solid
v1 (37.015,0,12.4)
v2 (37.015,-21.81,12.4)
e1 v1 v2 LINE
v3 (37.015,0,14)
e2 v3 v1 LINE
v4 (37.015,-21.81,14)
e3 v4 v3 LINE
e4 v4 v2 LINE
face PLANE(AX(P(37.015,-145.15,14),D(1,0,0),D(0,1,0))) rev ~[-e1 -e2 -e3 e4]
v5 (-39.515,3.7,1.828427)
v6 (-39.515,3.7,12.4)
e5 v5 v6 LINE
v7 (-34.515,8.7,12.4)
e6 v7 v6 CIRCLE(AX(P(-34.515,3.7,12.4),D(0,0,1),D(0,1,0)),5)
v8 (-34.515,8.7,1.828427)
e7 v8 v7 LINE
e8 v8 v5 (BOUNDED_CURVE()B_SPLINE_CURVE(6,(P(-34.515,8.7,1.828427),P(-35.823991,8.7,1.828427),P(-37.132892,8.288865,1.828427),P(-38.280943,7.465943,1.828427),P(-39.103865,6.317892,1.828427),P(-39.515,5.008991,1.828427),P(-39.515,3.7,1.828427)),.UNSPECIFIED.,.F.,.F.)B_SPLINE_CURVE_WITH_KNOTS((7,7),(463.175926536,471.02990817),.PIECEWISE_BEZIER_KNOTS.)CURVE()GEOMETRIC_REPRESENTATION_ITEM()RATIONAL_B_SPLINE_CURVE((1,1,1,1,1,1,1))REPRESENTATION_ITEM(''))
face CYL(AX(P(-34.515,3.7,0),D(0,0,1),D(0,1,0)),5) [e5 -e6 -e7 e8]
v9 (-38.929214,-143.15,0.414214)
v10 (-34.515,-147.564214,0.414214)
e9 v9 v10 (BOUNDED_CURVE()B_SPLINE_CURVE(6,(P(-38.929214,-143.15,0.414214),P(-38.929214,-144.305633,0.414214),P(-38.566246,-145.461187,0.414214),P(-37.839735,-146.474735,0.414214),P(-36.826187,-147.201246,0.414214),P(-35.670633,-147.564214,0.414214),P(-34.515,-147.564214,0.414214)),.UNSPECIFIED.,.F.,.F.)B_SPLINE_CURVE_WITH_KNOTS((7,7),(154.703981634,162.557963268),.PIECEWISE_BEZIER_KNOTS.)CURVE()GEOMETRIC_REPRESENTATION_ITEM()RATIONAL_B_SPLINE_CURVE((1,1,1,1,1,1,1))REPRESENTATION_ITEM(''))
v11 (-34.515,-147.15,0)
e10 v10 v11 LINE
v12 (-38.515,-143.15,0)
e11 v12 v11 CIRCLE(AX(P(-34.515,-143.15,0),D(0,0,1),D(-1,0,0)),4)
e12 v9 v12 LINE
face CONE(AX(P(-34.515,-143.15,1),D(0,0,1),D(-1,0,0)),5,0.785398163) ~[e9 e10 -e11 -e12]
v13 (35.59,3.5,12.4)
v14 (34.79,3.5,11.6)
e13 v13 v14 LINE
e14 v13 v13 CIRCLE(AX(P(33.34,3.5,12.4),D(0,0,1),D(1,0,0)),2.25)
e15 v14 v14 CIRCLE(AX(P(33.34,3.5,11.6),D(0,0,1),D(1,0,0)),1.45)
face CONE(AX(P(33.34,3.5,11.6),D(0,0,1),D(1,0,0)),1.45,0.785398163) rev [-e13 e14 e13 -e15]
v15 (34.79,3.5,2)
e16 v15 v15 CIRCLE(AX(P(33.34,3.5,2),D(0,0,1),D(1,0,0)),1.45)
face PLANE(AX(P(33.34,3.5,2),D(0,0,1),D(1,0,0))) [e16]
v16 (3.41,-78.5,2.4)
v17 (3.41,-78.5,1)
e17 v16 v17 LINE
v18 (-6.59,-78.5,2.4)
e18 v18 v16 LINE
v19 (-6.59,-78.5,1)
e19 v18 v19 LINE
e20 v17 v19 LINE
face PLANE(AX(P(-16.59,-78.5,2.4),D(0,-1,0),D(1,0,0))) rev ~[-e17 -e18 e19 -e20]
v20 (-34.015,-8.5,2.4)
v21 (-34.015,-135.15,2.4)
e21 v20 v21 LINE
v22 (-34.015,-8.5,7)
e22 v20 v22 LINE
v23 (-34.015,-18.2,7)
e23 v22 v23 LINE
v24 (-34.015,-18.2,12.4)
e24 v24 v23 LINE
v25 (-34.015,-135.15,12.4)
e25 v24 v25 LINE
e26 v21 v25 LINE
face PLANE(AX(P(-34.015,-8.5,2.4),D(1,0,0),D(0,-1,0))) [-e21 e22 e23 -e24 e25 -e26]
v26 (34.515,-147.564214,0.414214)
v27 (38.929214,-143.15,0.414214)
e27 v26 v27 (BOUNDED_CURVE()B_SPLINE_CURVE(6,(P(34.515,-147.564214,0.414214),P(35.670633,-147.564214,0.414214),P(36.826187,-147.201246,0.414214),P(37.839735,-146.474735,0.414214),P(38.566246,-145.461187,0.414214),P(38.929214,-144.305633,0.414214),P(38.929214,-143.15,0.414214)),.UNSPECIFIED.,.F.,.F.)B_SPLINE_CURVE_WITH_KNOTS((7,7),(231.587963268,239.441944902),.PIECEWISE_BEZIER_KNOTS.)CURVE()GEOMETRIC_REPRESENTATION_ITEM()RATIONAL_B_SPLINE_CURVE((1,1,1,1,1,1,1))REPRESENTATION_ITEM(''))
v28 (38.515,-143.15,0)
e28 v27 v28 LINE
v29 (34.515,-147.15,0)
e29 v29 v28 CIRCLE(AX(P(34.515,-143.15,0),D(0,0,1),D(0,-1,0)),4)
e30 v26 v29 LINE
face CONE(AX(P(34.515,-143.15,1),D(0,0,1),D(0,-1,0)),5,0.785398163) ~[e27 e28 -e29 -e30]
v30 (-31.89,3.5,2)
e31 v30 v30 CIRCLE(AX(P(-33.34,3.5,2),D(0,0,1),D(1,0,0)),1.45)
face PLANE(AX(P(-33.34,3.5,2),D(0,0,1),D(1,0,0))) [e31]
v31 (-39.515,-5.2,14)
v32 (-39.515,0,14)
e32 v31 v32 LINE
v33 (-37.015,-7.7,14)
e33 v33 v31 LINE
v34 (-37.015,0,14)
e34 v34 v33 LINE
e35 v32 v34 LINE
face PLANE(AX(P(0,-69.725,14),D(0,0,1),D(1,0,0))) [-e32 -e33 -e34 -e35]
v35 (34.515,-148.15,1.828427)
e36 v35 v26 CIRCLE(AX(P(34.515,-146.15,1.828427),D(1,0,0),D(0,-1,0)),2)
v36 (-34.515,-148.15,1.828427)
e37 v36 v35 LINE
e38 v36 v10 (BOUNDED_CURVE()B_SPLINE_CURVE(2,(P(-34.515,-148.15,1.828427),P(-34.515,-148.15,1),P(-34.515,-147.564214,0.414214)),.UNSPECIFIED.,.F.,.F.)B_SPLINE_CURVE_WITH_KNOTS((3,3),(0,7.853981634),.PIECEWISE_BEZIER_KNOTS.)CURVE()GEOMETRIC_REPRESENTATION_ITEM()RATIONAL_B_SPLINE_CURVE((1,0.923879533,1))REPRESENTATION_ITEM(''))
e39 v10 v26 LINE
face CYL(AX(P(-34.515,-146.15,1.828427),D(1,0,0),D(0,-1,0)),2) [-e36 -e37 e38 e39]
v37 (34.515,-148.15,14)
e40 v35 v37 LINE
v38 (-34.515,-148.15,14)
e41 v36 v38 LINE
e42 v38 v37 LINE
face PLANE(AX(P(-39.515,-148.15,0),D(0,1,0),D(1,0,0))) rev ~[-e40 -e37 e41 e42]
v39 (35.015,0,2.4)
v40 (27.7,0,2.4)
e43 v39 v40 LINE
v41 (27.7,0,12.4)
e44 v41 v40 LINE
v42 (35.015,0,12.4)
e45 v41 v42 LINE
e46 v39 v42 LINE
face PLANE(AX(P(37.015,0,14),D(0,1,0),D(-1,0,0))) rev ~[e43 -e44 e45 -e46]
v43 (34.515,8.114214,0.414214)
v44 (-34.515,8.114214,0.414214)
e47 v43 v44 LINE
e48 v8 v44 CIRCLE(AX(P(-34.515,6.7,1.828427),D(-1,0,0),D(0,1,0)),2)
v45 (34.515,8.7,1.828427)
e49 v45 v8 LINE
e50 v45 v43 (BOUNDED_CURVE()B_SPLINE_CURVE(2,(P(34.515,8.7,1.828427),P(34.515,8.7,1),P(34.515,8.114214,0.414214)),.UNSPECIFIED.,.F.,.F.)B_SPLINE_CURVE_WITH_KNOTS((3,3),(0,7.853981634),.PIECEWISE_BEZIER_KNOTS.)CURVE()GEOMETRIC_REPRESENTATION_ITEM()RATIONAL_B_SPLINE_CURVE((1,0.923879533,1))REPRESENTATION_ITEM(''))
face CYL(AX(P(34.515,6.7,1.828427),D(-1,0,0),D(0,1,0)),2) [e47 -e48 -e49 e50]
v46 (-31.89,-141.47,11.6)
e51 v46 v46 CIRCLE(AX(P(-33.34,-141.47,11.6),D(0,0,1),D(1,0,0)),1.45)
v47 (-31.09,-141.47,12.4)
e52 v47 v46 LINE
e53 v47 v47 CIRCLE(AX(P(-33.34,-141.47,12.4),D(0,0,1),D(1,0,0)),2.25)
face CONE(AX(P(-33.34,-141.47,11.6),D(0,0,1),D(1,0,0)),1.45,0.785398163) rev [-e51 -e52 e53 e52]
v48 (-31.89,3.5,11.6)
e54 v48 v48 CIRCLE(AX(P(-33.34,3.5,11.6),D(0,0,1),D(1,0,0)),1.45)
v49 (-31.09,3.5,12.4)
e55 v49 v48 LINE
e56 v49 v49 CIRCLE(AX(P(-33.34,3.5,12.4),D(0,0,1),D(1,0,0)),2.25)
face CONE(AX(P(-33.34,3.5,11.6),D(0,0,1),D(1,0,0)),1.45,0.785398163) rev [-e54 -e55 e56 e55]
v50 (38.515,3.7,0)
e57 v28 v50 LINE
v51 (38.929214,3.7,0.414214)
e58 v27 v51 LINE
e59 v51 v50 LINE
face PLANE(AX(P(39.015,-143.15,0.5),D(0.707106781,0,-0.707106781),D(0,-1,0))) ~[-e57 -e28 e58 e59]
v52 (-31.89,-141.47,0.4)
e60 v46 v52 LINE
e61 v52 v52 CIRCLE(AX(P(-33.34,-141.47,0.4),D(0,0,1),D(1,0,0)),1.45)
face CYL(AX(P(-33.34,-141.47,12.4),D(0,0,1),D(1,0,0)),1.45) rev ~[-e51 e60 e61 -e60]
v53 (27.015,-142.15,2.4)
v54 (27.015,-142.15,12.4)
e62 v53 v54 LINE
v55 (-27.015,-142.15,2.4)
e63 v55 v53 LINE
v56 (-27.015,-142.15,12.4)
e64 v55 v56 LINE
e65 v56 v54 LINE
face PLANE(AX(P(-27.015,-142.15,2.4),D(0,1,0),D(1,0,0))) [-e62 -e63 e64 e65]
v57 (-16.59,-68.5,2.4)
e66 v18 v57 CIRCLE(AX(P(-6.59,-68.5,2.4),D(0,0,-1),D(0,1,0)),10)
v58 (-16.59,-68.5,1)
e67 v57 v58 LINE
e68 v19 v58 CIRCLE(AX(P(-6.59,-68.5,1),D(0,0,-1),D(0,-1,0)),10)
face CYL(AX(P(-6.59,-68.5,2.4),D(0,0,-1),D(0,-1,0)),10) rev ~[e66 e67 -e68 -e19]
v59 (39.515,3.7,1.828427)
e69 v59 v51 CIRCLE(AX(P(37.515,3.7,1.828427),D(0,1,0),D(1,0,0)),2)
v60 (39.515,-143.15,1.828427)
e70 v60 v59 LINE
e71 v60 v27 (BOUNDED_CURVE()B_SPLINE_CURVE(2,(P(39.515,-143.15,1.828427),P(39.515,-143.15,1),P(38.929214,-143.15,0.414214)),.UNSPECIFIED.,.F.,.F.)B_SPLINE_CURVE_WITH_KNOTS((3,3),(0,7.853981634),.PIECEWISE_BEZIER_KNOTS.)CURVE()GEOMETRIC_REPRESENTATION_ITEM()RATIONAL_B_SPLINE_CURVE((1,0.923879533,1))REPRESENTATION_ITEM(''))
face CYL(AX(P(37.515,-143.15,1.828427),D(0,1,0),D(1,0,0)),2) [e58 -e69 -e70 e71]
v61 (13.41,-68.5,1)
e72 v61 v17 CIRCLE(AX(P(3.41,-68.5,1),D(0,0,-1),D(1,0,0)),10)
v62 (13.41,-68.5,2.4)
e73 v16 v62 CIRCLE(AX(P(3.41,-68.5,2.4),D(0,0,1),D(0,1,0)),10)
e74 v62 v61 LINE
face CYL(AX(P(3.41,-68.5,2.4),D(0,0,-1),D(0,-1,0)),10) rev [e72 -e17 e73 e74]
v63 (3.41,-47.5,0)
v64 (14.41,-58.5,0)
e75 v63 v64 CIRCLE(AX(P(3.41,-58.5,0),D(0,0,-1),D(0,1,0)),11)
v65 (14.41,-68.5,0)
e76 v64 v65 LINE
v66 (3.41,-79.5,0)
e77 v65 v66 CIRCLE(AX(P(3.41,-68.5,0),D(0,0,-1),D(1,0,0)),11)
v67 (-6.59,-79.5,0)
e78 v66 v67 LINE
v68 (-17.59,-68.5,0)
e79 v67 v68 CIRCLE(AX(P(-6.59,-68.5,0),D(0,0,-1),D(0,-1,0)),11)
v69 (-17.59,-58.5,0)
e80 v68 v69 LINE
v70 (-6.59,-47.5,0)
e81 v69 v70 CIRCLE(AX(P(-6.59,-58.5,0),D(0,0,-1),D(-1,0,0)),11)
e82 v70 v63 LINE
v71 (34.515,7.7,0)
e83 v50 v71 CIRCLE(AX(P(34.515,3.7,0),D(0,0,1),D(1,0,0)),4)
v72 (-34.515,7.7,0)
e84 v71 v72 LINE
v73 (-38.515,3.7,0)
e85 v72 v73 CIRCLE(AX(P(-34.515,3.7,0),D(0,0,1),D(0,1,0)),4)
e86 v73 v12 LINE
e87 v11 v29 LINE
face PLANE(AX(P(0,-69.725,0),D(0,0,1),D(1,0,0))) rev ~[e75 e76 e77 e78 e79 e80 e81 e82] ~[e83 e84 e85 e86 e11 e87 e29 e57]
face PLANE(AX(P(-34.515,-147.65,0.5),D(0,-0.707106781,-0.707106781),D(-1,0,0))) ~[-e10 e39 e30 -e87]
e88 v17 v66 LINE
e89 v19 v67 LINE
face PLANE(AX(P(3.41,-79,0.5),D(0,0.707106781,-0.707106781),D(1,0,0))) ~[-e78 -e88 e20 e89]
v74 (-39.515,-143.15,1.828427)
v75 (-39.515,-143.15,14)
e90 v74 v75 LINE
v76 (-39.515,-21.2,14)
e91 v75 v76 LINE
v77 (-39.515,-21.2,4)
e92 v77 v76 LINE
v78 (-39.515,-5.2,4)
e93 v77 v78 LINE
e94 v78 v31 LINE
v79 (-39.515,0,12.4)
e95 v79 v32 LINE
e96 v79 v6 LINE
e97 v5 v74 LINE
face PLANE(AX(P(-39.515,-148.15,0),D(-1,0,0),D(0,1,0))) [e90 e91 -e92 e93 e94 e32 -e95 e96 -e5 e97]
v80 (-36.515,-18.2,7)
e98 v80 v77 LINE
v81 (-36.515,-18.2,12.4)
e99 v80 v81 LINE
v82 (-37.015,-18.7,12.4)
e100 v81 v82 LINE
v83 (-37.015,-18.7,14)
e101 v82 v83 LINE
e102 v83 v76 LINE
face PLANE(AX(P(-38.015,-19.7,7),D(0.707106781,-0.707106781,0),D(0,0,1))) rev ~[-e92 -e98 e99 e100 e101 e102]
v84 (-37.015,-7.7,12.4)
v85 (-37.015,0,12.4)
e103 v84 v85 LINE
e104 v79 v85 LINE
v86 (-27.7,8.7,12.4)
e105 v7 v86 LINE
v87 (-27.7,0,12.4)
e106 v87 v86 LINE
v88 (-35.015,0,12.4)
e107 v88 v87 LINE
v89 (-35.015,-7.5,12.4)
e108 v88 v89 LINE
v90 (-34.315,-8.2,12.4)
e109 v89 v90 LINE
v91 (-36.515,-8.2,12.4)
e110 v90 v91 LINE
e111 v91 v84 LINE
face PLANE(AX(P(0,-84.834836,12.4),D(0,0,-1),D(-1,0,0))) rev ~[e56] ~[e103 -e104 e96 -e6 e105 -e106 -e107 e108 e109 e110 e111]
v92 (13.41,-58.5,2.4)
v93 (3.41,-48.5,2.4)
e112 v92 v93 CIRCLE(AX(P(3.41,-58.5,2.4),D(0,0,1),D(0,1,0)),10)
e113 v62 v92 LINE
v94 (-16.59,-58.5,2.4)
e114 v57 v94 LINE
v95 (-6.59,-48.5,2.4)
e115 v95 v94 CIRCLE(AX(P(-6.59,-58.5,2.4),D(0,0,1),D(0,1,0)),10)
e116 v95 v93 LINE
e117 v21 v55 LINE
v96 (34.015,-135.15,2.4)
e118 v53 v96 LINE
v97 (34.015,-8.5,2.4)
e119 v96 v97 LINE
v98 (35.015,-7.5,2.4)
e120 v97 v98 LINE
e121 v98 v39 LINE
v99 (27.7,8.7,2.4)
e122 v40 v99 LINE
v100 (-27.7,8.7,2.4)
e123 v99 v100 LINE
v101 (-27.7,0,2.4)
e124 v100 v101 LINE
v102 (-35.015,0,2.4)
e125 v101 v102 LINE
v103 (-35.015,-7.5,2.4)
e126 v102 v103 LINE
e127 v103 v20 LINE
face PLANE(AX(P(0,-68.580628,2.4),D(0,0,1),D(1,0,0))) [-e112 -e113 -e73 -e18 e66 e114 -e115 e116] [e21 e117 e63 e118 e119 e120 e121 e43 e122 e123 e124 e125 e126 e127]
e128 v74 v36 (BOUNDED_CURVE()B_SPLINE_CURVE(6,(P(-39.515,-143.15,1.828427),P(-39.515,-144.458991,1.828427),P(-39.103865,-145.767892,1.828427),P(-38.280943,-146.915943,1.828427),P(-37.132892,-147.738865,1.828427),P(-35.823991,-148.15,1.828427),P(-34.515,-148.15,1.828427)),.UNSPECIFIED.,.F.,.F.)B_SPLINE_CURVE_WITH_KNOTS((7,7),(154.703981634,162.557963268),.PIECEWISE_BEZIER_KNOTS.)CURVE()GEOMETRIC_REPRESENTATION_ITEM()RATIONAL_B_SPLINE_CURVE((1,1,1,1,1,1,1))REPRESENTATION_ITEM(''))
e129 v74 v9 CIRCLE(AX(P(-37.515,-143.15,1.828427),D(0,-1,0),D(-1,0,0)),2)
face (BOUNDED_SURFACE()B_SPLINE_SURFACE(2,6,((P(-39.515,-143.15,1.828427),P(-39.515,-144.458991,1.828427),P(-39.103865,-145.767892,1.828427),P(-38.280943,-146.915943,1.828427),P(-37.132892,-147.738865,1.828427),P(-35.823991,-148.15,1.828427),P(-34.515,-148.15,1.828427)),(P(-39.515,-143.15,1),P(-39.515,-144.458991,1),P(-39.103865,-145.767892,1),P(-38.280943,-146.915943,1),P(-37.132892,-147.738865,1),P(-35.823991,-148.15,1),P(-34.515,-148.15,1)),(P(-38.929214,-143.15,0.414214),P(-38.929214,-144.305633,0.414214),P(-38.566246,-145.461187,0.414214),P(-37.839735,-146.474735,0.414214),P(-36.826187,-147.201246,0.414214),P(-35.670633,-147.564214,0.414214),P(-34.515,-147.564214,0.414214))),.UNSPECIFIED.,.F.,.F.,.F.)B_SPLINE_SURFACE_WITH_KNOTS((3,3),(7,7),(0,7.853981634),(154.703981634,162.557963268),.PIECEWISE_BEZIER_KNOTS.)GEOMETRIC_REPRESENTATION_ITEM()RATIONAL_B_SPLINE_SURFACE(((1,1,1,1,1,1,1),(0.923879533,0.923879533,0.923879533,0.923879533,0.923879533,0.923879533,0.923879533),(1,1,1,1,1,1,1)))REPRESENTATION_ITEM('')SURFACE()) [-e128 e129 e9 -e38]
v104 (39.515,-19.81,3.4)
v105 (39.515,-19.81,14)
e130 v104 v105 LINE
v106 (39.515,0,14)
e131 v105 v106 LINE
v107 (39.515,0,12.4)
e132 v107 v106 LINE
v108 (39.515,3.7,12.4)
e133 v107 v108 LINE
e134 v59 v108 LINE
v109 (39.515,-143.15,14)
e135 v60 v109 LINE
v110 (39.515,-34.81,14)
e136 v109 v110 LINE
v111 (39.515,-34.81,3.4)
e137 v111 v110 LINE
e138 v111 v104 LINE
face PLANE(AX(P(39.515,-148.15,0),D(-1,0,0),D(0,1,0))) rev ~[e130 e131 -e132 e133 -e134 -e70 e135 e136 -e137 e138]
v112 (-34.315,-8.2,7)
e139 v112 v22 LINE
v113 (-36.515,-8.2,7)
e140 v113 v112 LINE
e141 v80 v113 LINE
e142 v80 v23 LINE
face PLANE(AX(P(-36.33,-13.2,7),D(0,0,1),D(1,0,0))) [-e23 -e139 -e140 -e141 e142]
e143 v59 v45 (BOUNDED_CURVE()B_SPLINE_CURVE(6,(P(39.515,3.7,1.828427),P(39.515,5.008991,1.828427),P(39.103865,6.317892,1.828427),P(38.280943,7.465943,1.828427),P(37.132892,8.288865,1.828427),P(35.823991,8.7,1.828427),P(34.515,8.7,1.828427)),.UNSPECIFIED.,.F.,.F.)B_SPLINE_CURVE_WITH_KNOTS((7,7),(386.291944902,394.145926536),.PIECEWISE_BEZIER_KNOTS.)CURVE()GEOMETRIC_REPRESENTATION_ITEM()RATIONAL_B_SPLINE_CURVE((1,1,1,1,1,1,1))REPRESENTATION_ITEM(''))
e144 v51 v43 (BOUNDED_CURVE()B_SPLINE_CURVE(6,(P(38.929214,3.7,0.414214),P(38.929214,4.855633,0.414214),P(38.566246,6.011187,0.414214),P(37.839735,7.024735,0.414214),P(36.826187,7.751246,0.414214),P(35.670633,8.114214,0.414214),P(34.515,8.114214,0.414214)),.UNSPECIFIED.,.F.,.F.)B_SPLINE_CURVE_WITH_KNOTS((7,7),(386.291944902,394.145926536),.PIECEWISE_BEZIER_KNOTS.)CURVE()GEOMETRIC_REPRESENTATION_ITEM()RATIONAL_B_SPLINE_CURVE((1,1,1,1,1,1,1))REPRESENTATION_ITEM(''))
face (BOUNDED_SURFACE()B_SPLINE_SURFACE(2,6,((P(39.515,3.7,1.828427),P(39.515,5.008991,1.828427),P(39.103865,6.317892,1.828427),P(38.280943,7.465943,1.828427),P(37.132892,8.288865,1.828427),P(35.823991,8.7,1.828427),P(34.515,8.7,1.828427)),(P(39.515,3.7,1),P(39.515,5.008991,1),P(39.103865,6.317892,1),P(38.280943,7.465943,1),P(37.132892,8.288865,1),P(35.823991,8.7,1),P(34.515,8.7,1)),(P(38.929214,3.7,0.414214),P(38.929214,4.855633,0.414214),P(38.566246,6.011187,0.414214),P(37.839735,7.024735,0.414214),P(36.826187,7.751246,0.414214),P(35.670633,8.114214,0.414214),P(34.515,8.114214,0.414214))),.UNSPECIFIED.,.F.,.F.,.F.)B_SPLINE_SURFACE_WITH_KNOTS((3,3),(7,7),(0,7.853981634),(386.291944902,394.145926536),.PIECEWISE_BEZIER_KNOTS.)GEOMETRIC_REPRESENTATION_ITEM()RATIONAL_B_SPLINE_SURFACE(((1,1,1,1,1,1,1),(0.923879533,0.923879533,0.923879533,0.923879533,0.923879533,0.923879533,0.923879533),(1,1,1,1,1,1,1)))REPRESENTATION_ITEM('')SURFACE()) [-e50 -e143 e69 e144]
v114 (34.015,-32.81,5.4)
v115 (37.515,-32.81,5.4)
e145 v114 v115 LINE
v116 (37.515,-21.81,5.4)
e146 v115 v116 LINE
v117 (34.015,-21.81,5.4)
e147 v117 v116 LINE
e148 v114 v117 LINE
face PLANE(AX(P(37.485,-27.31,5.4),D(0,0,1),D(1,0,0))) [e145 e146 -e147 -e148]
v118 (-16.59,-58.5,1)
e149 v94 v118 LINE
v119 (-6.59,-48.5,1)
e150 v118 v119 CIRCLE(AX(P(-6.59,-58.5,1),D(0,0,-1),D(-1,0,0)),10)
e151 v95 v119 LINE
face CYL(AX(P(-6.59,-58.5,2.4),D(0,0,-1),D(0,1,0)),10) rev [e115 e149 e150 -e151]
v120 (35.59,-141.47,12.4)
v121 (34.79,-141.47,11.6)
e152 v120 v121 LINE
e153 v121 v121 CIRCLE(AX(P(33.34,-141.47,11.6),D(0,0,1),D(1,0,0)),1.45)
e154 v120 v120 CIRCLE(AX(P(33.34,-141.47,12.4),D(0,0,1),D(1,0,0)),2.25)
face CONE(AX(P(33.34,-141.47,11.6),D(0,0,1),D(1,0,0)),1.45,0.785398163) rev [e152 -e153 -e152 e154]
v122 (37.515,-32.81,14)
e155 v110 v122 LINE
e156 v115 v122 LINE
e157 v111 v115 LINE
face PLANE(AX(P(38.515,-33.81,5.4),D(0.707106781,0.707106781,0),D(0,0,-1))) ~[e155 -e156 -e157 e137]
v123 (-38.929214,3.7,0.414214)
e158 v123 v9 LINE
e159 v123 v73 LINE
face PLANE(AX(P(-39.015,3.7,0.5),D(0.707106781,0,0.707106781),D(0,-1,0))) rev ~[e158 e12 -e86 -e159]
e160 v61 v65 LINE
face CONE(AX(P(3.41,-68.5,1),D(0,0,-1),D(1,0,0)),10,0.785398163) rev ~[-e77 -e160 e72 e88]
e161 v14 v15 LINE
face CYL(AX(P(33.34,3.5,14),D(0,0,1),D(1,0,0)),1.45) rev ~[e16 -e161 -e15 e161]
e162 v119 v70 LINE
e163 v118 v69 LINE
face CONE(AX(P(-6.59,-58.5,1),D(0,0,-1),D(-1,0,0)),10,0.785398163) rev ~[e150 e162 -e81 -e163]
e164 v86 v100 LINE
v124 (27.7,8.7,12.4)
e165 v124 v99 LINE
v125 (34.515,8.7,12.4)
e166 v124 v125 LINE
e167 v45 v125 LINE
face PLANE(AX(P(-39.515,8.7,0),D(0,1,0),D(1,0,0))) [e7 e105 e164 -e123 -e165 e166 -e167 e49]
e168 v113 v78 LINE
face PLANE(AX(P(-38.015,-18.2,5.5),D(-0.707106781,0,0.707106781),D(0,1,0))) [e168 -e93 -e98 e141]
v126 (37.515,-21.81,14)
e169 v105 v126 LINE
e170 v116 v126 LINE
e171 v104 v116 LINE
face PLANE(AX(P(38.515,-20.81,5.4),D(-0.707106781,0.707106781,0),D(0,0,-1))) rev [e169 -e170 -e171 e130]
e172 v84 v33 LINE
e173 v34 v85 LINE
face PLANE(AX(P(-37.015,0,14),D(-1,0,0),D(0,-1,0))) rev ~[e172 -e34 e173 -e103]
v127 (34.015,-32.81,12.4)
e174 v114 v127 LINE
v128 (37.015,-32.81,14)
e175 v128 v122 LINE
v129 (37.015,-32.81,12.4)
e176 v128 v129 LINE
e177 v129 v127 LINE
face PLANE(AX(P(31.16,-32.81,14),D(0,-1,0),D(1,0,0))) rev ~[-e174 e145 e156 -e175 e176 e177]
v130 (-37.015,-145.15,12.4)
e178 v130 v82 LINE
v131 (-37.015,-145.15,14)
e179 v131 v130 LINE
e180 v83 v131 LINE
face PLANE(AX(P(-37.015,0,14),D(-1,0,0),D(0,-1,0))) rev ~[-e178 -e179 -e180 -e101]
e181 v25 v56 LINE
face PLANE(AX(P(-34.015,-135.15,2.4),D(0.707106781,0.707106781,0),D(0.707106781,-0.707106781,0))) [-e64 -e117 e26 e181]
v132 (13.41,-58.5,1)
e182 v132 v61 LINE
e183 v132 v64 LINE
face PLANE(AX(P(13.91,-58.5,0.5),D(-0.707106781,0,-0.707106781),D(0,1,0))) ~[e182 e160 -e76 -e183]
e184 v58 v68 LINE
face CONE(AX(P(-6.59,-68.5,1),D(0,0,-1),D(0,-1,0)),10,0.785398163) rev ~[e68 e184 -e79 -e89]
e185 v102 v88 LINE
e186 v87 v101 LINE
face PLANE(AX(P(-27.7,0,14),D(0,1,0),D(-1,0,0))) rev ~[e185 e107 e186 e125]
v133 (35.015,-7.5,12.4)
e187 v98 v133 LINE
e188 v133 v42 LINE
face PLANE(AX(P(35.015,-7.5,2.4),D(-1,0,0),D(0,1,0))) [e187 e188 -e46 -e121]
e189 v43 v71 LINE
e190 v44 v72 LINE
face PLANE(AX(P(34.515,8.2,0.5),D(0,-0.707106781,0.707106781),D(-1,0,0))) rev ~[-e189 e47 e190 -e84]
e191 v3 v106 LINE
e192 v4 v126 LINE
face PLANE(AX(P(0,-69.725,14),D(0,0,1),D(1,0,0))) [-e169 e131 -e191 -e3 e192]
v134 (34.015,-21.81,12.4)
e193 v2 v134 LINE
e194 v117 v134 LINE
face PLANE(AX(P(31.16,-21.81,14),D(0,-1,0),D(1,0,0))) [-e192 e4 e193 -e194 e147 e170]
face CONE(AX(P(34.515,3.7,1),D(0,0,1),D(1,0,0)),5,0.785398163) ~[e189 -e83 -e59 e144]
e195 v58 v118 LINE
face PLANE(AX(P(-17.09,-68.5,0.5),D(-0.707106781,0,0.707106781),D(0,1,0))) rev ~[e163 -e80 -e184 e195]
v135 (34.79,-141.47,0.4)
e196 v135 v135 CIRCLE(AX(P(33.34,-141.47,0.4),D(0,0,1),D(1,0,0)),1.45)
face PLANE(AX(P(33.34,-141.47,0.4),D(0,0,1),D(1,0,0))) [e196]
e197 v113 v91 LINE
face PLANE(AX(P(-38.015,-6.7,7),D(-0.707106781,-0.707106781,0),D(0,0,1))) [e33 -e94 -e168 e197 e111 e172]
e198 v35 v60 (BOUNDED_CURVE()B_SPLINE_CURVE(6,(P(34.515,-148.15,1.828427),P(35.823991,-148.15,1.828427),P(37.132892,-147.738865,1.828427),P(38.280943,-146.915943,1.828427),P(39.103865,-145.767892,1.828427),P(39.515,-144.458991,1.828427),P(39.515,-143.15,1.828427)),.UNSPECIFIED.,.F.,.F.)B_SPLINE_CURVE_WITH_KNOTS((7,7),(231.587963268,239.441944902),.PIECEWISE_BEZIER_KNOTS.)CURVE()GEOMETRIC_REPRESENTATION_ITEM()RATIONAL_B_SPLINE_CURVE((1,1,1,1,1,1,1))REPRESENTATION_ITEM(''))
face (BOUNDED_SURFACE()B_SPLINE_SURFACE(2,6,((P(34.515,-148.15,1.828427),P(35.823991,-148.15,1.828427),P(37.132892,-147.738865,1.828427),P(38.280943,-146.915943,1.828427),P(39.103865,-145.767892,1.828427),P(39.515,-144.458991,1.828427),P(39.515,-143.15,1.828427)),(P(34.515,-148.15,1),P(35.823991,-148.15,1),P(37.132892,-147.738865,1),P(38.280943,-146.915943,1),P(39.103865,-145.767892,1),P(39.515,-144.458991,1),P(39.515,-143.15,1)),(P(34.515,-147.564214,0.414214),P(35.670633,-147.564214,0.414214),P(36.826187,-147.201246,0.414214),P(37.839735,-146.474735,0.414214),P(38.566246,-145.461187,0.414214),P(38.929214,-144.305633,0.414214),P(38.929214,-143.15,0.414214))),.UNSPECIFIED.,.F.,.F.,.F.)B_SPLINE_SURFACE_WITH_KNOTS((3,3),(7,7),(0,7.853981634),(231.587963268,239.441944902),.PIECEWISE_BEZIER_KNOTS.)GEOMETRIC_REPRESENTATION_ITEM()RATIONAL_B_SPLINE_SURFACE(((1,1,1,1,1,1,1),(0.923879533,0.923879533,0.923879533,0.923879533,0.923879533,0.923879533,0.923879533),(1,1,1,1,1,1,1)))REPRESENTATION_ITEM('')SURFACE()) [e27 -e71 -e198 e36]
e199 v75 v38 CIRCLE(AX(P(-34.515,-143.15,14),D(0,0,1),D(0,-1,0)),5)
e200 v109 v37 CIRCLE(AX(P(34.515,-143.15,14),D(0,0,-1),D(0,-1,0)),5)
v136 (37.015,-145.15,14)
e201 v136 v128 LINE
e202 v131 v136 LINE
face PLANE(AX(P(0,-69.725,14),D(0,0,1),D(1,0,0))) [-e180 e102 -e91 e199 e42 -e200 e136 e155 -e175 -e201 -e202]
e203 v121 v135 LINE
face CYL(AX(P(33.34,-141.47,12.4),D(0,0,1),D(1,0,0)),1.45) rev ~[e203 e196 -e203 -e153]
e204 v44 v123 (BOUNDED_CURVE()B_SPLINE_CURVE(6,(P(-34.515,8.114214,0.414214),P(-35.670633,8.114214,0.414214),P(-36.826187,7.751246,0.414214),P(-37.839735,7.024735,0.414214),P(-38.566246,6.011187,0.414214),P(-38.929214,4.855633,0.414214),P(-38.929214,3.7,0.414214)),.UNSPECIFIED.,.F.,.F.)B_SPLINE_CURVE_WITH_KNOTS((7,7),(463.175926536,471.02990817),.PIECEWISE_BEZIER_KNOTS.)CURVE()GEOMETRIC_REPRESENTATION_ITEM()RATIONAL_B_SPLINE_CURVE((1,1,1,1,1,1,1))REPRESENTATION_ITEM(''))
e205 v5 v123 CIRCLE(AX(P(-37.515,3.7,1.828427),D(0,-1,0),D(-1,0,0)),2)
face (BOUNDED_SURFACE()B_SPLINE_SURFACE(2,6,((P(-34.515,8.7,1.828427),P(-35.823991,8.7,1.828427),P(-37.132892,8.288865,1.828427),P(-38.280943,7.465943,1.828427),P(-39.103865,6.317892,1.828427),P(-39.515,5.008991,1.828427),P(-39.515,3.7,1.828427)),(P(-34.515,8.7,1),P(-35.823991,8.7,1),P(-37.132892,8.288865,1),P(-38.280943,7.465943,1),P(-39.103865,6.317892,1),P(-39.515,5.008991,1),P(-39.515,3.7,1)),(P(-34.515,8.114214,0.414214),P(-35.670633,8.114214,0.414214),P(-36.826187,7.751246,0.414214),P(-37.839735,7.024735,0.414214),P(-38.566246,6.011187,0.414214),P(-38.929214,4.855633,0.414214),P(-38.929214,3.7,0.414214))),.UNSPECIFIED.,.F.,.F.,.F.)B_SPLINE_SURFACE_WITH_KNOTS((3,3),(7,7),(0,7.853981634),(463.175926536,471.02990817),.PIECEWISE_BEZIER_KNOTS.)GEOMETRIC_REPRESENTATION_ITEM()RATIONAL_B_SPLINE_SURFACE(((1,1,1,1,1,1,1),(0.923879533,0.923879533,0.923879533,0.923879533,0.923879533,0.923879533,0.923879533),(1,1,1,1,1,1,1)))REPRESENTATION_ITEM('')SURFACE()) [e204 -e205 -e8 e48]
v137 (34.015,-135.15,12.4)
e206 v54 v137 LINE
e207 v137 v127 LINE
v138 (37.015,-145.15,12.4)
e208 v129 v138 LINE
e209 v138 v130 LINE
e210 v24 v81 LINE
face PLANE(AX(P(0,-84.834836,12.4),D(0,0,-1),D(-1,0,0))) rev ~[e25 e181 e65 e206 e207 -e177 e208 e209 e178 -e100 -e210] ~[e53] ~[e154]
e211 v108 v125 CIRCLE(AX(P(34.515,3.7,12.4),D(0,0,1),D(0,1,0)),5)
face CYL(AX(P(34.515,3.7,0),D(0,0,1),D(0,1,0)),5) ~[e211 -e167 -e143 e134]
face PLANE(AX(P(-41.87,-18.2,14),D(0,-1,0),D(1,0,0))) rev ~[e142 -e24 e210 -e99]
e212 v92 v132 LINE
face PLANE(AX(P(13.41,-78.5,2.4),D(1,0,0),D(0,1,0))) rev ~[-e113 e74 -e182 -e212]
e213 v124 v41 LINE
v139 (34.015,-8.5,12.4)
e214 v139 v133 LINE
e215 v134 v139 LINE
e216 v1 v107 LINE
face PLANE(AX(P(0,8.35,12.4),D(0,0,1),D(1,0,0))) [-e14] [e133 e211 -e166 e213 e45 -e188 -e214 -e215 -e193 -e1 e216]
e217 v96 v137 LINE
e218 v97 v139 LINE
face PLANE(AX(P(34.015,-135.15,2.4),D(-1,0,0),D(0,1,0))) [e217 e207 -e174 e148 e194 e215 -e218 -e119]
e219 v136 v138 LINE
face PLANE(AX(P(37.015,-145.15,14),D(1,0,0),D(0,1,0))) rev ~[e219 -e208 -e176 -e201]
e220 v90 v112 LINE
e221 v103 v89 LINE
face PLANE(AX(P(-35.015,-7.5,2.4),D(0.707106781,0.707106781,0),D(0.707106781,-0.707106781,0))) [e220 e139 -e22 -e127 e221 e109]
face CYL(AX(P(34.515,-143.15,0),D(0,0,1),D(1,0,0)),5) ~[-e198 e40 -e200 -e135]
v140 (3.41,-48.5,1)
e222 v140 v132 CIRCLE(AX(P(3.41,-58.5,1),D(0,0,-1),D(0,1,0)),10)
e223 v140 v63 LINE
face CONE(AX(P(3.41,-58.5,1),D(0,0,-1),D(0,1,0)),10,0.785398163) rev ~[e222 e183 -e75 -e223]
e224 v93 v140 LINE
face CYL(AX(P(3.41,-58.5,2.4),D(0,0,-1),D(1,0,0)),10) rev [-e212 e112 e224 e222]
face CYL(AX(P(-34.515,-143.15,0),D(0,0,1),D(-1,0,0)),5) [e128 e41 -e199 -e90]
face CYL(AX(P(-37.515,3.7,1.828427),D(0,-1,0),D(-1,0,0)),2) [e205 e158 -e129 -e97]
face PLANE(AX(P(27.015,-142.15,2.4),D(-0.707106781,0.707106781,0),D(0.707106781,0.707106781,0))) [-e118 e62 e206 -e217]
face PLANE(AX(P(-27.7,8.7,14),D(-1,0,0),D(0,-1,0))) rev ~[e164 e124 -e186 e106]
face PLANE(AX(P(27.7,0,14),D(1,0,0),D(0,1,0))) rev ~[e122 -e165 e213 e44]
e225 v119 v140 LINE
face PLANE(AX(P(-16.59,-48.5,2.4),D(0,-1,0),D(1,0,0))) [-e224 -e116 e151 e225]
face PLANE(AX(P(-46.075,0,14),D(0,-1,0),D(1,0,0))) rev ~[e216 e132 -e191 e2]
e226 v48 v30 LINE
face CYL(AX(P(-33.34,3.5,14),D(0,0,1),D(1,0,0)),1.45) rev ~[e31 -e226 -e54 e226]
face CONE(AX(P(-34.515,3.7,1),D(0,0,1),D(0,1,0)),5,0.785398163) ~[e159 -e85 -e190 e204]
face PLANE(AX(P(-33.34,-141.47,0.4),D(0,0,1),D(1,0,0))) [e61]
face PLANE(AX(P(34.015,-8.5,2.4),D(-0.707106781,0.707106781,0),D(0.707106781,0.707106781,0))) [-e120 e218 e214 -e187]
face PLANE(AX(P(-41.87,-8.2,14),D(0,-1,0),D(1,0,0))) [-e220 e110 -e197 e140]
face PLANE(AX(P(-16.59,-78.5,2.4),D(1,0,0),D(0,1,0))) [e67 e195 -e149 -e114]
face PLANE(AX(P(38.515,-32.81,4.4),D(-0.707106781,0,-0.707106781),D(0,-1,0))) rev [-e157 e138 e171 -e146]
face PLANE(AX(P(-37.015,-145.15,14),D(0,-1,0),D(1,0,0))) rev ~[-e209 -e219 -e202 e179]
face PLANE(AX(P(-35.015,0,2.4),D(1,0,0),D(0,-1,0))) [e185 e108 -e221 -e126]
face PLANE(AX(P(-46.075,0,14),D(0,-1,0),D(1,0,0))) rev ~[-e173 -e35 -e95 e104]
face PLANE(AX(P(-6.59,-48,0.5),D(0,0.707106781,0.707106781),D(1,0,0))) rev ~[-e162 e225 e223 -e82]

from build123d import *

# Parameters (mm, degrees)
SKETCH_W        = 79.03
SKETCH_H        = 156.85
PAD_DEPTH       = 14
POCKET_DEPTH    = 11.6
PAD001_DEPTH    = 10
SKETCH003_R     = 1.45
POCKET001_DEPTH = 12
FILLET_R        = 5
CHAMFER_SIZE    = 1
FILLET001_R     = 2
CHAMFER001_SIZE = 0.8
SKETCH004_W     = 12.65
SKETCH004_H     = 11
POCKET002_DEPTH = 8.6
SKETCH005_W     = 11.08
SKETCH005_H     = 10
POCKET003_DEPTH = 7
SKETCH006_R     = 1.45
POCKET004_DEPTH = 12
SKETCH007_W     = 92.15
SKETCH007_H     = 16.7
POCKET005_DEPTH = 1.6
CHAMFER002_SIZE = 0.8
SKETCH008_W     = 30
SKETCH008_H     = 30
POCKET006_DEPTH = 2.401
FILLET002_R     = 10
CHAMFER003_SIZE = 1
CHAMFER004_SIZE = 3
CHAMFER005_SIZE = 2


with BuildPart() as part:
    # Sketch → Pad (new body)
    with BuildSketch(Plane.XY):
        with Locations((0, -69.725)):
            Rectangle(SKETCH_W, SKETCH_H)
    extrude(amount=PAD_DEPTH)

    # Sketch001 (on Face6 of Pad) → Pocket (cut)
    with BuildSketch(Plane.XY.offset(14)):
        Polygon((-37.015, -145.15), (37.015, -145.15), (37.015, 0), (27.7, 0), (27.7, 8.7), (-27.7, 8.7), (-27.7, 0), (-37.015, 0), align=None)
    extrude(amount=-POCKET_DEPTH, mode=Mode.SUBTRACT)

    # Sketch002 (on Face6 of Pocket) → Pad001 (join)
    with BuildSketch(Plane.XY.offset(2.4)):
        Polygon((-35.015, 0), (-35.015, -7.5), (-34.015, -8.5), (-34.015, -135.15), (-27.015, -142.15), (27.015, -142.15), (34.015, -135.15), (34.015, -8.5), (35.015, -7.5), (35.015, 0), (37.015, 0), (37.015, -145.15), (-37.015, -145.15), (-37.015, 0), align=None)
    extrude(amount=PAD001_DEPTH)

    # Sketch003 (on Face24 of Pad001) → Pocket001 (cut)
    with BuildSketch(Plane.XY.offset(12.4)):
        with Locations((-33.34, -141.47)):
            Circle(SKETCH003_R)
        with Locations((33.34, -141.47)):
            Circle(SKETCH003_R)
    extrude(amount=-POCKET001_DEPTH, mode=Mode.SUBTRACT)

    # Fillet
    fillet_edges = [part.edges().sort_by_distance(p)[0] for p in [
        (39.515, 8.7, 7),
        (39.515, -148.15, 7),
        (-39.515, 8.7, 7),
        (-39.515, -148.15, 7),
    ]]
    fillet(fillet_edges, radius=FILLET_R)

    # Chamfer
    chamfer_edges = [part.edges().sort_by_distance(p)[0] for p in [
        (-38.050534, 7.235534, 0),
    ]]
    chamfer(chamfer_edges, length=CHAMFER_SIZE)

    # Fillet001
    fillet001_edges = [part.edges().sort_by_distance(p)[0] for p in [
        (-38.050534, 7.235534, 1),
    ]]
    fillet(fillet001_edges, radius=FILLET001_R)

    # Chamfer001
    chamfer001_edges = [part.edges().sort_by_distance(p)[0] for p in [
        (-34.79, -141.47, 12.4),
        (31.89, -141.47, 12.4),
    ]]
    chamfer(chamfer001_edges, length=CHAMFER001_SIZE)

    # Sketch004 (on Face20 of Chamfer001) → Pocket002 (cut)
    with BuildSketch(Plane.XY.offset(14)):
        with Locations((37.485, -27.31)):
            Rectangle(SKETCH004_W, SKETCH004_H)
    extrude(amount=-POCKET002_DEPTH, mode=Mode.SUBTRACT)

    # Sketch005 (on Face16 of Pocket002) → Pocket003 (cut)
    with BuildSketch(Plane.XY.offset(14)):
        with Locations((-36.33, -13.2)):
            Rectangle(SKETCH005_W, SKETCH005_H)
    extrude(amount=-POCKET003_DEPTH, mode=Mode.SUBTRACT)

    # Sketch006 → Pocket004 (cut)
    with BuildSketch(Plane.XY.offset(14)):
        with Locations((-33.34, 3.5)):
            Circle(SKETCH006_R)
        with Locations((33.34, 3.5)):
            Circle(SKETCH006_R)
    extrude(amount=-POCKET004_DEPTH, mode=Mode.SUBTRACT)

    # Sketch007 (on Face7 of Pocket004) → Pocket005 (cut)
    with BuildSketch(Plane.XY.offset(14)):
        with Locations((0, 8.35)):
            Rectangle(SKETCH007_W, SKETCH007_H)
    extrude(amount=-POCKET005_DEPTH, mode=Mode.SUBTRACT)

    # Chamfer002
    chamfer002_edges = [part.edges().sort_by_distance(p)[0] for p in [
        (31.89, 3.5, 12.4),
        (-34.79, 3.5, 12.4),
    ]]
    chamfer(chamfer002_edges, length=CHAMFER002_SIZE)

    # Sketch008 (on Face16 of Chamfer002) → Pocket006 (cut, through all)
    with BuildSketch(Plane.XY.offset(2.4)):
        with Locations((-1.59, -63.5)):
            Rectangle(SKETCH008_W, SKETCH008_H)
    extrude(amount=-POCKET006_DEPTH, mode=Mode.SUBTRACT)

    # Fillet002
    fillet002_edges = [part.edges().sort_by_distance(p)[0] for p in [
        (-16.59, -48.5, 1.2),
        (13.41, -48.5, 1.2),
        (13.41, -78.5, 1.2),
        (-16.59, -78.5, 1.2),
    ]]
    fillet(fillet002_edges, radius=FILLET002_R)

    # Chamfer003
    chamfer003_edges = [part.edges().sort_by_distance(p)[0] for p in [
        (-13.661068, -75.571068, 0),
    ]]
    chamfer(chamfer003_edges, length=CHAMFER003_SIZE)

    # Chamfer004
    chamfer004_edges = [part.edges().sort_by_distance(p)[0] for p in [
        (-39.515, -18.2, 10.5),
        (-39.515, -13.2, 7),
        (-39.515, -8.2, 10.5),
    ]]
    chamfer(chamfer004_edges, length=CHAMFER004_SIZE)

    # Chamfer005
    chamfer005_edges = [part.edges().sort_by_distance(p)[0] for p in [
        (39.515, -32.81, 9.7),
        (39.515, -27.31, 5.4),
        (39.515, -21.81, 9.7),
    ]]
    chamfer(chamfer005_edges, length=CHAMFER005_SIZE)


solid = part.part
